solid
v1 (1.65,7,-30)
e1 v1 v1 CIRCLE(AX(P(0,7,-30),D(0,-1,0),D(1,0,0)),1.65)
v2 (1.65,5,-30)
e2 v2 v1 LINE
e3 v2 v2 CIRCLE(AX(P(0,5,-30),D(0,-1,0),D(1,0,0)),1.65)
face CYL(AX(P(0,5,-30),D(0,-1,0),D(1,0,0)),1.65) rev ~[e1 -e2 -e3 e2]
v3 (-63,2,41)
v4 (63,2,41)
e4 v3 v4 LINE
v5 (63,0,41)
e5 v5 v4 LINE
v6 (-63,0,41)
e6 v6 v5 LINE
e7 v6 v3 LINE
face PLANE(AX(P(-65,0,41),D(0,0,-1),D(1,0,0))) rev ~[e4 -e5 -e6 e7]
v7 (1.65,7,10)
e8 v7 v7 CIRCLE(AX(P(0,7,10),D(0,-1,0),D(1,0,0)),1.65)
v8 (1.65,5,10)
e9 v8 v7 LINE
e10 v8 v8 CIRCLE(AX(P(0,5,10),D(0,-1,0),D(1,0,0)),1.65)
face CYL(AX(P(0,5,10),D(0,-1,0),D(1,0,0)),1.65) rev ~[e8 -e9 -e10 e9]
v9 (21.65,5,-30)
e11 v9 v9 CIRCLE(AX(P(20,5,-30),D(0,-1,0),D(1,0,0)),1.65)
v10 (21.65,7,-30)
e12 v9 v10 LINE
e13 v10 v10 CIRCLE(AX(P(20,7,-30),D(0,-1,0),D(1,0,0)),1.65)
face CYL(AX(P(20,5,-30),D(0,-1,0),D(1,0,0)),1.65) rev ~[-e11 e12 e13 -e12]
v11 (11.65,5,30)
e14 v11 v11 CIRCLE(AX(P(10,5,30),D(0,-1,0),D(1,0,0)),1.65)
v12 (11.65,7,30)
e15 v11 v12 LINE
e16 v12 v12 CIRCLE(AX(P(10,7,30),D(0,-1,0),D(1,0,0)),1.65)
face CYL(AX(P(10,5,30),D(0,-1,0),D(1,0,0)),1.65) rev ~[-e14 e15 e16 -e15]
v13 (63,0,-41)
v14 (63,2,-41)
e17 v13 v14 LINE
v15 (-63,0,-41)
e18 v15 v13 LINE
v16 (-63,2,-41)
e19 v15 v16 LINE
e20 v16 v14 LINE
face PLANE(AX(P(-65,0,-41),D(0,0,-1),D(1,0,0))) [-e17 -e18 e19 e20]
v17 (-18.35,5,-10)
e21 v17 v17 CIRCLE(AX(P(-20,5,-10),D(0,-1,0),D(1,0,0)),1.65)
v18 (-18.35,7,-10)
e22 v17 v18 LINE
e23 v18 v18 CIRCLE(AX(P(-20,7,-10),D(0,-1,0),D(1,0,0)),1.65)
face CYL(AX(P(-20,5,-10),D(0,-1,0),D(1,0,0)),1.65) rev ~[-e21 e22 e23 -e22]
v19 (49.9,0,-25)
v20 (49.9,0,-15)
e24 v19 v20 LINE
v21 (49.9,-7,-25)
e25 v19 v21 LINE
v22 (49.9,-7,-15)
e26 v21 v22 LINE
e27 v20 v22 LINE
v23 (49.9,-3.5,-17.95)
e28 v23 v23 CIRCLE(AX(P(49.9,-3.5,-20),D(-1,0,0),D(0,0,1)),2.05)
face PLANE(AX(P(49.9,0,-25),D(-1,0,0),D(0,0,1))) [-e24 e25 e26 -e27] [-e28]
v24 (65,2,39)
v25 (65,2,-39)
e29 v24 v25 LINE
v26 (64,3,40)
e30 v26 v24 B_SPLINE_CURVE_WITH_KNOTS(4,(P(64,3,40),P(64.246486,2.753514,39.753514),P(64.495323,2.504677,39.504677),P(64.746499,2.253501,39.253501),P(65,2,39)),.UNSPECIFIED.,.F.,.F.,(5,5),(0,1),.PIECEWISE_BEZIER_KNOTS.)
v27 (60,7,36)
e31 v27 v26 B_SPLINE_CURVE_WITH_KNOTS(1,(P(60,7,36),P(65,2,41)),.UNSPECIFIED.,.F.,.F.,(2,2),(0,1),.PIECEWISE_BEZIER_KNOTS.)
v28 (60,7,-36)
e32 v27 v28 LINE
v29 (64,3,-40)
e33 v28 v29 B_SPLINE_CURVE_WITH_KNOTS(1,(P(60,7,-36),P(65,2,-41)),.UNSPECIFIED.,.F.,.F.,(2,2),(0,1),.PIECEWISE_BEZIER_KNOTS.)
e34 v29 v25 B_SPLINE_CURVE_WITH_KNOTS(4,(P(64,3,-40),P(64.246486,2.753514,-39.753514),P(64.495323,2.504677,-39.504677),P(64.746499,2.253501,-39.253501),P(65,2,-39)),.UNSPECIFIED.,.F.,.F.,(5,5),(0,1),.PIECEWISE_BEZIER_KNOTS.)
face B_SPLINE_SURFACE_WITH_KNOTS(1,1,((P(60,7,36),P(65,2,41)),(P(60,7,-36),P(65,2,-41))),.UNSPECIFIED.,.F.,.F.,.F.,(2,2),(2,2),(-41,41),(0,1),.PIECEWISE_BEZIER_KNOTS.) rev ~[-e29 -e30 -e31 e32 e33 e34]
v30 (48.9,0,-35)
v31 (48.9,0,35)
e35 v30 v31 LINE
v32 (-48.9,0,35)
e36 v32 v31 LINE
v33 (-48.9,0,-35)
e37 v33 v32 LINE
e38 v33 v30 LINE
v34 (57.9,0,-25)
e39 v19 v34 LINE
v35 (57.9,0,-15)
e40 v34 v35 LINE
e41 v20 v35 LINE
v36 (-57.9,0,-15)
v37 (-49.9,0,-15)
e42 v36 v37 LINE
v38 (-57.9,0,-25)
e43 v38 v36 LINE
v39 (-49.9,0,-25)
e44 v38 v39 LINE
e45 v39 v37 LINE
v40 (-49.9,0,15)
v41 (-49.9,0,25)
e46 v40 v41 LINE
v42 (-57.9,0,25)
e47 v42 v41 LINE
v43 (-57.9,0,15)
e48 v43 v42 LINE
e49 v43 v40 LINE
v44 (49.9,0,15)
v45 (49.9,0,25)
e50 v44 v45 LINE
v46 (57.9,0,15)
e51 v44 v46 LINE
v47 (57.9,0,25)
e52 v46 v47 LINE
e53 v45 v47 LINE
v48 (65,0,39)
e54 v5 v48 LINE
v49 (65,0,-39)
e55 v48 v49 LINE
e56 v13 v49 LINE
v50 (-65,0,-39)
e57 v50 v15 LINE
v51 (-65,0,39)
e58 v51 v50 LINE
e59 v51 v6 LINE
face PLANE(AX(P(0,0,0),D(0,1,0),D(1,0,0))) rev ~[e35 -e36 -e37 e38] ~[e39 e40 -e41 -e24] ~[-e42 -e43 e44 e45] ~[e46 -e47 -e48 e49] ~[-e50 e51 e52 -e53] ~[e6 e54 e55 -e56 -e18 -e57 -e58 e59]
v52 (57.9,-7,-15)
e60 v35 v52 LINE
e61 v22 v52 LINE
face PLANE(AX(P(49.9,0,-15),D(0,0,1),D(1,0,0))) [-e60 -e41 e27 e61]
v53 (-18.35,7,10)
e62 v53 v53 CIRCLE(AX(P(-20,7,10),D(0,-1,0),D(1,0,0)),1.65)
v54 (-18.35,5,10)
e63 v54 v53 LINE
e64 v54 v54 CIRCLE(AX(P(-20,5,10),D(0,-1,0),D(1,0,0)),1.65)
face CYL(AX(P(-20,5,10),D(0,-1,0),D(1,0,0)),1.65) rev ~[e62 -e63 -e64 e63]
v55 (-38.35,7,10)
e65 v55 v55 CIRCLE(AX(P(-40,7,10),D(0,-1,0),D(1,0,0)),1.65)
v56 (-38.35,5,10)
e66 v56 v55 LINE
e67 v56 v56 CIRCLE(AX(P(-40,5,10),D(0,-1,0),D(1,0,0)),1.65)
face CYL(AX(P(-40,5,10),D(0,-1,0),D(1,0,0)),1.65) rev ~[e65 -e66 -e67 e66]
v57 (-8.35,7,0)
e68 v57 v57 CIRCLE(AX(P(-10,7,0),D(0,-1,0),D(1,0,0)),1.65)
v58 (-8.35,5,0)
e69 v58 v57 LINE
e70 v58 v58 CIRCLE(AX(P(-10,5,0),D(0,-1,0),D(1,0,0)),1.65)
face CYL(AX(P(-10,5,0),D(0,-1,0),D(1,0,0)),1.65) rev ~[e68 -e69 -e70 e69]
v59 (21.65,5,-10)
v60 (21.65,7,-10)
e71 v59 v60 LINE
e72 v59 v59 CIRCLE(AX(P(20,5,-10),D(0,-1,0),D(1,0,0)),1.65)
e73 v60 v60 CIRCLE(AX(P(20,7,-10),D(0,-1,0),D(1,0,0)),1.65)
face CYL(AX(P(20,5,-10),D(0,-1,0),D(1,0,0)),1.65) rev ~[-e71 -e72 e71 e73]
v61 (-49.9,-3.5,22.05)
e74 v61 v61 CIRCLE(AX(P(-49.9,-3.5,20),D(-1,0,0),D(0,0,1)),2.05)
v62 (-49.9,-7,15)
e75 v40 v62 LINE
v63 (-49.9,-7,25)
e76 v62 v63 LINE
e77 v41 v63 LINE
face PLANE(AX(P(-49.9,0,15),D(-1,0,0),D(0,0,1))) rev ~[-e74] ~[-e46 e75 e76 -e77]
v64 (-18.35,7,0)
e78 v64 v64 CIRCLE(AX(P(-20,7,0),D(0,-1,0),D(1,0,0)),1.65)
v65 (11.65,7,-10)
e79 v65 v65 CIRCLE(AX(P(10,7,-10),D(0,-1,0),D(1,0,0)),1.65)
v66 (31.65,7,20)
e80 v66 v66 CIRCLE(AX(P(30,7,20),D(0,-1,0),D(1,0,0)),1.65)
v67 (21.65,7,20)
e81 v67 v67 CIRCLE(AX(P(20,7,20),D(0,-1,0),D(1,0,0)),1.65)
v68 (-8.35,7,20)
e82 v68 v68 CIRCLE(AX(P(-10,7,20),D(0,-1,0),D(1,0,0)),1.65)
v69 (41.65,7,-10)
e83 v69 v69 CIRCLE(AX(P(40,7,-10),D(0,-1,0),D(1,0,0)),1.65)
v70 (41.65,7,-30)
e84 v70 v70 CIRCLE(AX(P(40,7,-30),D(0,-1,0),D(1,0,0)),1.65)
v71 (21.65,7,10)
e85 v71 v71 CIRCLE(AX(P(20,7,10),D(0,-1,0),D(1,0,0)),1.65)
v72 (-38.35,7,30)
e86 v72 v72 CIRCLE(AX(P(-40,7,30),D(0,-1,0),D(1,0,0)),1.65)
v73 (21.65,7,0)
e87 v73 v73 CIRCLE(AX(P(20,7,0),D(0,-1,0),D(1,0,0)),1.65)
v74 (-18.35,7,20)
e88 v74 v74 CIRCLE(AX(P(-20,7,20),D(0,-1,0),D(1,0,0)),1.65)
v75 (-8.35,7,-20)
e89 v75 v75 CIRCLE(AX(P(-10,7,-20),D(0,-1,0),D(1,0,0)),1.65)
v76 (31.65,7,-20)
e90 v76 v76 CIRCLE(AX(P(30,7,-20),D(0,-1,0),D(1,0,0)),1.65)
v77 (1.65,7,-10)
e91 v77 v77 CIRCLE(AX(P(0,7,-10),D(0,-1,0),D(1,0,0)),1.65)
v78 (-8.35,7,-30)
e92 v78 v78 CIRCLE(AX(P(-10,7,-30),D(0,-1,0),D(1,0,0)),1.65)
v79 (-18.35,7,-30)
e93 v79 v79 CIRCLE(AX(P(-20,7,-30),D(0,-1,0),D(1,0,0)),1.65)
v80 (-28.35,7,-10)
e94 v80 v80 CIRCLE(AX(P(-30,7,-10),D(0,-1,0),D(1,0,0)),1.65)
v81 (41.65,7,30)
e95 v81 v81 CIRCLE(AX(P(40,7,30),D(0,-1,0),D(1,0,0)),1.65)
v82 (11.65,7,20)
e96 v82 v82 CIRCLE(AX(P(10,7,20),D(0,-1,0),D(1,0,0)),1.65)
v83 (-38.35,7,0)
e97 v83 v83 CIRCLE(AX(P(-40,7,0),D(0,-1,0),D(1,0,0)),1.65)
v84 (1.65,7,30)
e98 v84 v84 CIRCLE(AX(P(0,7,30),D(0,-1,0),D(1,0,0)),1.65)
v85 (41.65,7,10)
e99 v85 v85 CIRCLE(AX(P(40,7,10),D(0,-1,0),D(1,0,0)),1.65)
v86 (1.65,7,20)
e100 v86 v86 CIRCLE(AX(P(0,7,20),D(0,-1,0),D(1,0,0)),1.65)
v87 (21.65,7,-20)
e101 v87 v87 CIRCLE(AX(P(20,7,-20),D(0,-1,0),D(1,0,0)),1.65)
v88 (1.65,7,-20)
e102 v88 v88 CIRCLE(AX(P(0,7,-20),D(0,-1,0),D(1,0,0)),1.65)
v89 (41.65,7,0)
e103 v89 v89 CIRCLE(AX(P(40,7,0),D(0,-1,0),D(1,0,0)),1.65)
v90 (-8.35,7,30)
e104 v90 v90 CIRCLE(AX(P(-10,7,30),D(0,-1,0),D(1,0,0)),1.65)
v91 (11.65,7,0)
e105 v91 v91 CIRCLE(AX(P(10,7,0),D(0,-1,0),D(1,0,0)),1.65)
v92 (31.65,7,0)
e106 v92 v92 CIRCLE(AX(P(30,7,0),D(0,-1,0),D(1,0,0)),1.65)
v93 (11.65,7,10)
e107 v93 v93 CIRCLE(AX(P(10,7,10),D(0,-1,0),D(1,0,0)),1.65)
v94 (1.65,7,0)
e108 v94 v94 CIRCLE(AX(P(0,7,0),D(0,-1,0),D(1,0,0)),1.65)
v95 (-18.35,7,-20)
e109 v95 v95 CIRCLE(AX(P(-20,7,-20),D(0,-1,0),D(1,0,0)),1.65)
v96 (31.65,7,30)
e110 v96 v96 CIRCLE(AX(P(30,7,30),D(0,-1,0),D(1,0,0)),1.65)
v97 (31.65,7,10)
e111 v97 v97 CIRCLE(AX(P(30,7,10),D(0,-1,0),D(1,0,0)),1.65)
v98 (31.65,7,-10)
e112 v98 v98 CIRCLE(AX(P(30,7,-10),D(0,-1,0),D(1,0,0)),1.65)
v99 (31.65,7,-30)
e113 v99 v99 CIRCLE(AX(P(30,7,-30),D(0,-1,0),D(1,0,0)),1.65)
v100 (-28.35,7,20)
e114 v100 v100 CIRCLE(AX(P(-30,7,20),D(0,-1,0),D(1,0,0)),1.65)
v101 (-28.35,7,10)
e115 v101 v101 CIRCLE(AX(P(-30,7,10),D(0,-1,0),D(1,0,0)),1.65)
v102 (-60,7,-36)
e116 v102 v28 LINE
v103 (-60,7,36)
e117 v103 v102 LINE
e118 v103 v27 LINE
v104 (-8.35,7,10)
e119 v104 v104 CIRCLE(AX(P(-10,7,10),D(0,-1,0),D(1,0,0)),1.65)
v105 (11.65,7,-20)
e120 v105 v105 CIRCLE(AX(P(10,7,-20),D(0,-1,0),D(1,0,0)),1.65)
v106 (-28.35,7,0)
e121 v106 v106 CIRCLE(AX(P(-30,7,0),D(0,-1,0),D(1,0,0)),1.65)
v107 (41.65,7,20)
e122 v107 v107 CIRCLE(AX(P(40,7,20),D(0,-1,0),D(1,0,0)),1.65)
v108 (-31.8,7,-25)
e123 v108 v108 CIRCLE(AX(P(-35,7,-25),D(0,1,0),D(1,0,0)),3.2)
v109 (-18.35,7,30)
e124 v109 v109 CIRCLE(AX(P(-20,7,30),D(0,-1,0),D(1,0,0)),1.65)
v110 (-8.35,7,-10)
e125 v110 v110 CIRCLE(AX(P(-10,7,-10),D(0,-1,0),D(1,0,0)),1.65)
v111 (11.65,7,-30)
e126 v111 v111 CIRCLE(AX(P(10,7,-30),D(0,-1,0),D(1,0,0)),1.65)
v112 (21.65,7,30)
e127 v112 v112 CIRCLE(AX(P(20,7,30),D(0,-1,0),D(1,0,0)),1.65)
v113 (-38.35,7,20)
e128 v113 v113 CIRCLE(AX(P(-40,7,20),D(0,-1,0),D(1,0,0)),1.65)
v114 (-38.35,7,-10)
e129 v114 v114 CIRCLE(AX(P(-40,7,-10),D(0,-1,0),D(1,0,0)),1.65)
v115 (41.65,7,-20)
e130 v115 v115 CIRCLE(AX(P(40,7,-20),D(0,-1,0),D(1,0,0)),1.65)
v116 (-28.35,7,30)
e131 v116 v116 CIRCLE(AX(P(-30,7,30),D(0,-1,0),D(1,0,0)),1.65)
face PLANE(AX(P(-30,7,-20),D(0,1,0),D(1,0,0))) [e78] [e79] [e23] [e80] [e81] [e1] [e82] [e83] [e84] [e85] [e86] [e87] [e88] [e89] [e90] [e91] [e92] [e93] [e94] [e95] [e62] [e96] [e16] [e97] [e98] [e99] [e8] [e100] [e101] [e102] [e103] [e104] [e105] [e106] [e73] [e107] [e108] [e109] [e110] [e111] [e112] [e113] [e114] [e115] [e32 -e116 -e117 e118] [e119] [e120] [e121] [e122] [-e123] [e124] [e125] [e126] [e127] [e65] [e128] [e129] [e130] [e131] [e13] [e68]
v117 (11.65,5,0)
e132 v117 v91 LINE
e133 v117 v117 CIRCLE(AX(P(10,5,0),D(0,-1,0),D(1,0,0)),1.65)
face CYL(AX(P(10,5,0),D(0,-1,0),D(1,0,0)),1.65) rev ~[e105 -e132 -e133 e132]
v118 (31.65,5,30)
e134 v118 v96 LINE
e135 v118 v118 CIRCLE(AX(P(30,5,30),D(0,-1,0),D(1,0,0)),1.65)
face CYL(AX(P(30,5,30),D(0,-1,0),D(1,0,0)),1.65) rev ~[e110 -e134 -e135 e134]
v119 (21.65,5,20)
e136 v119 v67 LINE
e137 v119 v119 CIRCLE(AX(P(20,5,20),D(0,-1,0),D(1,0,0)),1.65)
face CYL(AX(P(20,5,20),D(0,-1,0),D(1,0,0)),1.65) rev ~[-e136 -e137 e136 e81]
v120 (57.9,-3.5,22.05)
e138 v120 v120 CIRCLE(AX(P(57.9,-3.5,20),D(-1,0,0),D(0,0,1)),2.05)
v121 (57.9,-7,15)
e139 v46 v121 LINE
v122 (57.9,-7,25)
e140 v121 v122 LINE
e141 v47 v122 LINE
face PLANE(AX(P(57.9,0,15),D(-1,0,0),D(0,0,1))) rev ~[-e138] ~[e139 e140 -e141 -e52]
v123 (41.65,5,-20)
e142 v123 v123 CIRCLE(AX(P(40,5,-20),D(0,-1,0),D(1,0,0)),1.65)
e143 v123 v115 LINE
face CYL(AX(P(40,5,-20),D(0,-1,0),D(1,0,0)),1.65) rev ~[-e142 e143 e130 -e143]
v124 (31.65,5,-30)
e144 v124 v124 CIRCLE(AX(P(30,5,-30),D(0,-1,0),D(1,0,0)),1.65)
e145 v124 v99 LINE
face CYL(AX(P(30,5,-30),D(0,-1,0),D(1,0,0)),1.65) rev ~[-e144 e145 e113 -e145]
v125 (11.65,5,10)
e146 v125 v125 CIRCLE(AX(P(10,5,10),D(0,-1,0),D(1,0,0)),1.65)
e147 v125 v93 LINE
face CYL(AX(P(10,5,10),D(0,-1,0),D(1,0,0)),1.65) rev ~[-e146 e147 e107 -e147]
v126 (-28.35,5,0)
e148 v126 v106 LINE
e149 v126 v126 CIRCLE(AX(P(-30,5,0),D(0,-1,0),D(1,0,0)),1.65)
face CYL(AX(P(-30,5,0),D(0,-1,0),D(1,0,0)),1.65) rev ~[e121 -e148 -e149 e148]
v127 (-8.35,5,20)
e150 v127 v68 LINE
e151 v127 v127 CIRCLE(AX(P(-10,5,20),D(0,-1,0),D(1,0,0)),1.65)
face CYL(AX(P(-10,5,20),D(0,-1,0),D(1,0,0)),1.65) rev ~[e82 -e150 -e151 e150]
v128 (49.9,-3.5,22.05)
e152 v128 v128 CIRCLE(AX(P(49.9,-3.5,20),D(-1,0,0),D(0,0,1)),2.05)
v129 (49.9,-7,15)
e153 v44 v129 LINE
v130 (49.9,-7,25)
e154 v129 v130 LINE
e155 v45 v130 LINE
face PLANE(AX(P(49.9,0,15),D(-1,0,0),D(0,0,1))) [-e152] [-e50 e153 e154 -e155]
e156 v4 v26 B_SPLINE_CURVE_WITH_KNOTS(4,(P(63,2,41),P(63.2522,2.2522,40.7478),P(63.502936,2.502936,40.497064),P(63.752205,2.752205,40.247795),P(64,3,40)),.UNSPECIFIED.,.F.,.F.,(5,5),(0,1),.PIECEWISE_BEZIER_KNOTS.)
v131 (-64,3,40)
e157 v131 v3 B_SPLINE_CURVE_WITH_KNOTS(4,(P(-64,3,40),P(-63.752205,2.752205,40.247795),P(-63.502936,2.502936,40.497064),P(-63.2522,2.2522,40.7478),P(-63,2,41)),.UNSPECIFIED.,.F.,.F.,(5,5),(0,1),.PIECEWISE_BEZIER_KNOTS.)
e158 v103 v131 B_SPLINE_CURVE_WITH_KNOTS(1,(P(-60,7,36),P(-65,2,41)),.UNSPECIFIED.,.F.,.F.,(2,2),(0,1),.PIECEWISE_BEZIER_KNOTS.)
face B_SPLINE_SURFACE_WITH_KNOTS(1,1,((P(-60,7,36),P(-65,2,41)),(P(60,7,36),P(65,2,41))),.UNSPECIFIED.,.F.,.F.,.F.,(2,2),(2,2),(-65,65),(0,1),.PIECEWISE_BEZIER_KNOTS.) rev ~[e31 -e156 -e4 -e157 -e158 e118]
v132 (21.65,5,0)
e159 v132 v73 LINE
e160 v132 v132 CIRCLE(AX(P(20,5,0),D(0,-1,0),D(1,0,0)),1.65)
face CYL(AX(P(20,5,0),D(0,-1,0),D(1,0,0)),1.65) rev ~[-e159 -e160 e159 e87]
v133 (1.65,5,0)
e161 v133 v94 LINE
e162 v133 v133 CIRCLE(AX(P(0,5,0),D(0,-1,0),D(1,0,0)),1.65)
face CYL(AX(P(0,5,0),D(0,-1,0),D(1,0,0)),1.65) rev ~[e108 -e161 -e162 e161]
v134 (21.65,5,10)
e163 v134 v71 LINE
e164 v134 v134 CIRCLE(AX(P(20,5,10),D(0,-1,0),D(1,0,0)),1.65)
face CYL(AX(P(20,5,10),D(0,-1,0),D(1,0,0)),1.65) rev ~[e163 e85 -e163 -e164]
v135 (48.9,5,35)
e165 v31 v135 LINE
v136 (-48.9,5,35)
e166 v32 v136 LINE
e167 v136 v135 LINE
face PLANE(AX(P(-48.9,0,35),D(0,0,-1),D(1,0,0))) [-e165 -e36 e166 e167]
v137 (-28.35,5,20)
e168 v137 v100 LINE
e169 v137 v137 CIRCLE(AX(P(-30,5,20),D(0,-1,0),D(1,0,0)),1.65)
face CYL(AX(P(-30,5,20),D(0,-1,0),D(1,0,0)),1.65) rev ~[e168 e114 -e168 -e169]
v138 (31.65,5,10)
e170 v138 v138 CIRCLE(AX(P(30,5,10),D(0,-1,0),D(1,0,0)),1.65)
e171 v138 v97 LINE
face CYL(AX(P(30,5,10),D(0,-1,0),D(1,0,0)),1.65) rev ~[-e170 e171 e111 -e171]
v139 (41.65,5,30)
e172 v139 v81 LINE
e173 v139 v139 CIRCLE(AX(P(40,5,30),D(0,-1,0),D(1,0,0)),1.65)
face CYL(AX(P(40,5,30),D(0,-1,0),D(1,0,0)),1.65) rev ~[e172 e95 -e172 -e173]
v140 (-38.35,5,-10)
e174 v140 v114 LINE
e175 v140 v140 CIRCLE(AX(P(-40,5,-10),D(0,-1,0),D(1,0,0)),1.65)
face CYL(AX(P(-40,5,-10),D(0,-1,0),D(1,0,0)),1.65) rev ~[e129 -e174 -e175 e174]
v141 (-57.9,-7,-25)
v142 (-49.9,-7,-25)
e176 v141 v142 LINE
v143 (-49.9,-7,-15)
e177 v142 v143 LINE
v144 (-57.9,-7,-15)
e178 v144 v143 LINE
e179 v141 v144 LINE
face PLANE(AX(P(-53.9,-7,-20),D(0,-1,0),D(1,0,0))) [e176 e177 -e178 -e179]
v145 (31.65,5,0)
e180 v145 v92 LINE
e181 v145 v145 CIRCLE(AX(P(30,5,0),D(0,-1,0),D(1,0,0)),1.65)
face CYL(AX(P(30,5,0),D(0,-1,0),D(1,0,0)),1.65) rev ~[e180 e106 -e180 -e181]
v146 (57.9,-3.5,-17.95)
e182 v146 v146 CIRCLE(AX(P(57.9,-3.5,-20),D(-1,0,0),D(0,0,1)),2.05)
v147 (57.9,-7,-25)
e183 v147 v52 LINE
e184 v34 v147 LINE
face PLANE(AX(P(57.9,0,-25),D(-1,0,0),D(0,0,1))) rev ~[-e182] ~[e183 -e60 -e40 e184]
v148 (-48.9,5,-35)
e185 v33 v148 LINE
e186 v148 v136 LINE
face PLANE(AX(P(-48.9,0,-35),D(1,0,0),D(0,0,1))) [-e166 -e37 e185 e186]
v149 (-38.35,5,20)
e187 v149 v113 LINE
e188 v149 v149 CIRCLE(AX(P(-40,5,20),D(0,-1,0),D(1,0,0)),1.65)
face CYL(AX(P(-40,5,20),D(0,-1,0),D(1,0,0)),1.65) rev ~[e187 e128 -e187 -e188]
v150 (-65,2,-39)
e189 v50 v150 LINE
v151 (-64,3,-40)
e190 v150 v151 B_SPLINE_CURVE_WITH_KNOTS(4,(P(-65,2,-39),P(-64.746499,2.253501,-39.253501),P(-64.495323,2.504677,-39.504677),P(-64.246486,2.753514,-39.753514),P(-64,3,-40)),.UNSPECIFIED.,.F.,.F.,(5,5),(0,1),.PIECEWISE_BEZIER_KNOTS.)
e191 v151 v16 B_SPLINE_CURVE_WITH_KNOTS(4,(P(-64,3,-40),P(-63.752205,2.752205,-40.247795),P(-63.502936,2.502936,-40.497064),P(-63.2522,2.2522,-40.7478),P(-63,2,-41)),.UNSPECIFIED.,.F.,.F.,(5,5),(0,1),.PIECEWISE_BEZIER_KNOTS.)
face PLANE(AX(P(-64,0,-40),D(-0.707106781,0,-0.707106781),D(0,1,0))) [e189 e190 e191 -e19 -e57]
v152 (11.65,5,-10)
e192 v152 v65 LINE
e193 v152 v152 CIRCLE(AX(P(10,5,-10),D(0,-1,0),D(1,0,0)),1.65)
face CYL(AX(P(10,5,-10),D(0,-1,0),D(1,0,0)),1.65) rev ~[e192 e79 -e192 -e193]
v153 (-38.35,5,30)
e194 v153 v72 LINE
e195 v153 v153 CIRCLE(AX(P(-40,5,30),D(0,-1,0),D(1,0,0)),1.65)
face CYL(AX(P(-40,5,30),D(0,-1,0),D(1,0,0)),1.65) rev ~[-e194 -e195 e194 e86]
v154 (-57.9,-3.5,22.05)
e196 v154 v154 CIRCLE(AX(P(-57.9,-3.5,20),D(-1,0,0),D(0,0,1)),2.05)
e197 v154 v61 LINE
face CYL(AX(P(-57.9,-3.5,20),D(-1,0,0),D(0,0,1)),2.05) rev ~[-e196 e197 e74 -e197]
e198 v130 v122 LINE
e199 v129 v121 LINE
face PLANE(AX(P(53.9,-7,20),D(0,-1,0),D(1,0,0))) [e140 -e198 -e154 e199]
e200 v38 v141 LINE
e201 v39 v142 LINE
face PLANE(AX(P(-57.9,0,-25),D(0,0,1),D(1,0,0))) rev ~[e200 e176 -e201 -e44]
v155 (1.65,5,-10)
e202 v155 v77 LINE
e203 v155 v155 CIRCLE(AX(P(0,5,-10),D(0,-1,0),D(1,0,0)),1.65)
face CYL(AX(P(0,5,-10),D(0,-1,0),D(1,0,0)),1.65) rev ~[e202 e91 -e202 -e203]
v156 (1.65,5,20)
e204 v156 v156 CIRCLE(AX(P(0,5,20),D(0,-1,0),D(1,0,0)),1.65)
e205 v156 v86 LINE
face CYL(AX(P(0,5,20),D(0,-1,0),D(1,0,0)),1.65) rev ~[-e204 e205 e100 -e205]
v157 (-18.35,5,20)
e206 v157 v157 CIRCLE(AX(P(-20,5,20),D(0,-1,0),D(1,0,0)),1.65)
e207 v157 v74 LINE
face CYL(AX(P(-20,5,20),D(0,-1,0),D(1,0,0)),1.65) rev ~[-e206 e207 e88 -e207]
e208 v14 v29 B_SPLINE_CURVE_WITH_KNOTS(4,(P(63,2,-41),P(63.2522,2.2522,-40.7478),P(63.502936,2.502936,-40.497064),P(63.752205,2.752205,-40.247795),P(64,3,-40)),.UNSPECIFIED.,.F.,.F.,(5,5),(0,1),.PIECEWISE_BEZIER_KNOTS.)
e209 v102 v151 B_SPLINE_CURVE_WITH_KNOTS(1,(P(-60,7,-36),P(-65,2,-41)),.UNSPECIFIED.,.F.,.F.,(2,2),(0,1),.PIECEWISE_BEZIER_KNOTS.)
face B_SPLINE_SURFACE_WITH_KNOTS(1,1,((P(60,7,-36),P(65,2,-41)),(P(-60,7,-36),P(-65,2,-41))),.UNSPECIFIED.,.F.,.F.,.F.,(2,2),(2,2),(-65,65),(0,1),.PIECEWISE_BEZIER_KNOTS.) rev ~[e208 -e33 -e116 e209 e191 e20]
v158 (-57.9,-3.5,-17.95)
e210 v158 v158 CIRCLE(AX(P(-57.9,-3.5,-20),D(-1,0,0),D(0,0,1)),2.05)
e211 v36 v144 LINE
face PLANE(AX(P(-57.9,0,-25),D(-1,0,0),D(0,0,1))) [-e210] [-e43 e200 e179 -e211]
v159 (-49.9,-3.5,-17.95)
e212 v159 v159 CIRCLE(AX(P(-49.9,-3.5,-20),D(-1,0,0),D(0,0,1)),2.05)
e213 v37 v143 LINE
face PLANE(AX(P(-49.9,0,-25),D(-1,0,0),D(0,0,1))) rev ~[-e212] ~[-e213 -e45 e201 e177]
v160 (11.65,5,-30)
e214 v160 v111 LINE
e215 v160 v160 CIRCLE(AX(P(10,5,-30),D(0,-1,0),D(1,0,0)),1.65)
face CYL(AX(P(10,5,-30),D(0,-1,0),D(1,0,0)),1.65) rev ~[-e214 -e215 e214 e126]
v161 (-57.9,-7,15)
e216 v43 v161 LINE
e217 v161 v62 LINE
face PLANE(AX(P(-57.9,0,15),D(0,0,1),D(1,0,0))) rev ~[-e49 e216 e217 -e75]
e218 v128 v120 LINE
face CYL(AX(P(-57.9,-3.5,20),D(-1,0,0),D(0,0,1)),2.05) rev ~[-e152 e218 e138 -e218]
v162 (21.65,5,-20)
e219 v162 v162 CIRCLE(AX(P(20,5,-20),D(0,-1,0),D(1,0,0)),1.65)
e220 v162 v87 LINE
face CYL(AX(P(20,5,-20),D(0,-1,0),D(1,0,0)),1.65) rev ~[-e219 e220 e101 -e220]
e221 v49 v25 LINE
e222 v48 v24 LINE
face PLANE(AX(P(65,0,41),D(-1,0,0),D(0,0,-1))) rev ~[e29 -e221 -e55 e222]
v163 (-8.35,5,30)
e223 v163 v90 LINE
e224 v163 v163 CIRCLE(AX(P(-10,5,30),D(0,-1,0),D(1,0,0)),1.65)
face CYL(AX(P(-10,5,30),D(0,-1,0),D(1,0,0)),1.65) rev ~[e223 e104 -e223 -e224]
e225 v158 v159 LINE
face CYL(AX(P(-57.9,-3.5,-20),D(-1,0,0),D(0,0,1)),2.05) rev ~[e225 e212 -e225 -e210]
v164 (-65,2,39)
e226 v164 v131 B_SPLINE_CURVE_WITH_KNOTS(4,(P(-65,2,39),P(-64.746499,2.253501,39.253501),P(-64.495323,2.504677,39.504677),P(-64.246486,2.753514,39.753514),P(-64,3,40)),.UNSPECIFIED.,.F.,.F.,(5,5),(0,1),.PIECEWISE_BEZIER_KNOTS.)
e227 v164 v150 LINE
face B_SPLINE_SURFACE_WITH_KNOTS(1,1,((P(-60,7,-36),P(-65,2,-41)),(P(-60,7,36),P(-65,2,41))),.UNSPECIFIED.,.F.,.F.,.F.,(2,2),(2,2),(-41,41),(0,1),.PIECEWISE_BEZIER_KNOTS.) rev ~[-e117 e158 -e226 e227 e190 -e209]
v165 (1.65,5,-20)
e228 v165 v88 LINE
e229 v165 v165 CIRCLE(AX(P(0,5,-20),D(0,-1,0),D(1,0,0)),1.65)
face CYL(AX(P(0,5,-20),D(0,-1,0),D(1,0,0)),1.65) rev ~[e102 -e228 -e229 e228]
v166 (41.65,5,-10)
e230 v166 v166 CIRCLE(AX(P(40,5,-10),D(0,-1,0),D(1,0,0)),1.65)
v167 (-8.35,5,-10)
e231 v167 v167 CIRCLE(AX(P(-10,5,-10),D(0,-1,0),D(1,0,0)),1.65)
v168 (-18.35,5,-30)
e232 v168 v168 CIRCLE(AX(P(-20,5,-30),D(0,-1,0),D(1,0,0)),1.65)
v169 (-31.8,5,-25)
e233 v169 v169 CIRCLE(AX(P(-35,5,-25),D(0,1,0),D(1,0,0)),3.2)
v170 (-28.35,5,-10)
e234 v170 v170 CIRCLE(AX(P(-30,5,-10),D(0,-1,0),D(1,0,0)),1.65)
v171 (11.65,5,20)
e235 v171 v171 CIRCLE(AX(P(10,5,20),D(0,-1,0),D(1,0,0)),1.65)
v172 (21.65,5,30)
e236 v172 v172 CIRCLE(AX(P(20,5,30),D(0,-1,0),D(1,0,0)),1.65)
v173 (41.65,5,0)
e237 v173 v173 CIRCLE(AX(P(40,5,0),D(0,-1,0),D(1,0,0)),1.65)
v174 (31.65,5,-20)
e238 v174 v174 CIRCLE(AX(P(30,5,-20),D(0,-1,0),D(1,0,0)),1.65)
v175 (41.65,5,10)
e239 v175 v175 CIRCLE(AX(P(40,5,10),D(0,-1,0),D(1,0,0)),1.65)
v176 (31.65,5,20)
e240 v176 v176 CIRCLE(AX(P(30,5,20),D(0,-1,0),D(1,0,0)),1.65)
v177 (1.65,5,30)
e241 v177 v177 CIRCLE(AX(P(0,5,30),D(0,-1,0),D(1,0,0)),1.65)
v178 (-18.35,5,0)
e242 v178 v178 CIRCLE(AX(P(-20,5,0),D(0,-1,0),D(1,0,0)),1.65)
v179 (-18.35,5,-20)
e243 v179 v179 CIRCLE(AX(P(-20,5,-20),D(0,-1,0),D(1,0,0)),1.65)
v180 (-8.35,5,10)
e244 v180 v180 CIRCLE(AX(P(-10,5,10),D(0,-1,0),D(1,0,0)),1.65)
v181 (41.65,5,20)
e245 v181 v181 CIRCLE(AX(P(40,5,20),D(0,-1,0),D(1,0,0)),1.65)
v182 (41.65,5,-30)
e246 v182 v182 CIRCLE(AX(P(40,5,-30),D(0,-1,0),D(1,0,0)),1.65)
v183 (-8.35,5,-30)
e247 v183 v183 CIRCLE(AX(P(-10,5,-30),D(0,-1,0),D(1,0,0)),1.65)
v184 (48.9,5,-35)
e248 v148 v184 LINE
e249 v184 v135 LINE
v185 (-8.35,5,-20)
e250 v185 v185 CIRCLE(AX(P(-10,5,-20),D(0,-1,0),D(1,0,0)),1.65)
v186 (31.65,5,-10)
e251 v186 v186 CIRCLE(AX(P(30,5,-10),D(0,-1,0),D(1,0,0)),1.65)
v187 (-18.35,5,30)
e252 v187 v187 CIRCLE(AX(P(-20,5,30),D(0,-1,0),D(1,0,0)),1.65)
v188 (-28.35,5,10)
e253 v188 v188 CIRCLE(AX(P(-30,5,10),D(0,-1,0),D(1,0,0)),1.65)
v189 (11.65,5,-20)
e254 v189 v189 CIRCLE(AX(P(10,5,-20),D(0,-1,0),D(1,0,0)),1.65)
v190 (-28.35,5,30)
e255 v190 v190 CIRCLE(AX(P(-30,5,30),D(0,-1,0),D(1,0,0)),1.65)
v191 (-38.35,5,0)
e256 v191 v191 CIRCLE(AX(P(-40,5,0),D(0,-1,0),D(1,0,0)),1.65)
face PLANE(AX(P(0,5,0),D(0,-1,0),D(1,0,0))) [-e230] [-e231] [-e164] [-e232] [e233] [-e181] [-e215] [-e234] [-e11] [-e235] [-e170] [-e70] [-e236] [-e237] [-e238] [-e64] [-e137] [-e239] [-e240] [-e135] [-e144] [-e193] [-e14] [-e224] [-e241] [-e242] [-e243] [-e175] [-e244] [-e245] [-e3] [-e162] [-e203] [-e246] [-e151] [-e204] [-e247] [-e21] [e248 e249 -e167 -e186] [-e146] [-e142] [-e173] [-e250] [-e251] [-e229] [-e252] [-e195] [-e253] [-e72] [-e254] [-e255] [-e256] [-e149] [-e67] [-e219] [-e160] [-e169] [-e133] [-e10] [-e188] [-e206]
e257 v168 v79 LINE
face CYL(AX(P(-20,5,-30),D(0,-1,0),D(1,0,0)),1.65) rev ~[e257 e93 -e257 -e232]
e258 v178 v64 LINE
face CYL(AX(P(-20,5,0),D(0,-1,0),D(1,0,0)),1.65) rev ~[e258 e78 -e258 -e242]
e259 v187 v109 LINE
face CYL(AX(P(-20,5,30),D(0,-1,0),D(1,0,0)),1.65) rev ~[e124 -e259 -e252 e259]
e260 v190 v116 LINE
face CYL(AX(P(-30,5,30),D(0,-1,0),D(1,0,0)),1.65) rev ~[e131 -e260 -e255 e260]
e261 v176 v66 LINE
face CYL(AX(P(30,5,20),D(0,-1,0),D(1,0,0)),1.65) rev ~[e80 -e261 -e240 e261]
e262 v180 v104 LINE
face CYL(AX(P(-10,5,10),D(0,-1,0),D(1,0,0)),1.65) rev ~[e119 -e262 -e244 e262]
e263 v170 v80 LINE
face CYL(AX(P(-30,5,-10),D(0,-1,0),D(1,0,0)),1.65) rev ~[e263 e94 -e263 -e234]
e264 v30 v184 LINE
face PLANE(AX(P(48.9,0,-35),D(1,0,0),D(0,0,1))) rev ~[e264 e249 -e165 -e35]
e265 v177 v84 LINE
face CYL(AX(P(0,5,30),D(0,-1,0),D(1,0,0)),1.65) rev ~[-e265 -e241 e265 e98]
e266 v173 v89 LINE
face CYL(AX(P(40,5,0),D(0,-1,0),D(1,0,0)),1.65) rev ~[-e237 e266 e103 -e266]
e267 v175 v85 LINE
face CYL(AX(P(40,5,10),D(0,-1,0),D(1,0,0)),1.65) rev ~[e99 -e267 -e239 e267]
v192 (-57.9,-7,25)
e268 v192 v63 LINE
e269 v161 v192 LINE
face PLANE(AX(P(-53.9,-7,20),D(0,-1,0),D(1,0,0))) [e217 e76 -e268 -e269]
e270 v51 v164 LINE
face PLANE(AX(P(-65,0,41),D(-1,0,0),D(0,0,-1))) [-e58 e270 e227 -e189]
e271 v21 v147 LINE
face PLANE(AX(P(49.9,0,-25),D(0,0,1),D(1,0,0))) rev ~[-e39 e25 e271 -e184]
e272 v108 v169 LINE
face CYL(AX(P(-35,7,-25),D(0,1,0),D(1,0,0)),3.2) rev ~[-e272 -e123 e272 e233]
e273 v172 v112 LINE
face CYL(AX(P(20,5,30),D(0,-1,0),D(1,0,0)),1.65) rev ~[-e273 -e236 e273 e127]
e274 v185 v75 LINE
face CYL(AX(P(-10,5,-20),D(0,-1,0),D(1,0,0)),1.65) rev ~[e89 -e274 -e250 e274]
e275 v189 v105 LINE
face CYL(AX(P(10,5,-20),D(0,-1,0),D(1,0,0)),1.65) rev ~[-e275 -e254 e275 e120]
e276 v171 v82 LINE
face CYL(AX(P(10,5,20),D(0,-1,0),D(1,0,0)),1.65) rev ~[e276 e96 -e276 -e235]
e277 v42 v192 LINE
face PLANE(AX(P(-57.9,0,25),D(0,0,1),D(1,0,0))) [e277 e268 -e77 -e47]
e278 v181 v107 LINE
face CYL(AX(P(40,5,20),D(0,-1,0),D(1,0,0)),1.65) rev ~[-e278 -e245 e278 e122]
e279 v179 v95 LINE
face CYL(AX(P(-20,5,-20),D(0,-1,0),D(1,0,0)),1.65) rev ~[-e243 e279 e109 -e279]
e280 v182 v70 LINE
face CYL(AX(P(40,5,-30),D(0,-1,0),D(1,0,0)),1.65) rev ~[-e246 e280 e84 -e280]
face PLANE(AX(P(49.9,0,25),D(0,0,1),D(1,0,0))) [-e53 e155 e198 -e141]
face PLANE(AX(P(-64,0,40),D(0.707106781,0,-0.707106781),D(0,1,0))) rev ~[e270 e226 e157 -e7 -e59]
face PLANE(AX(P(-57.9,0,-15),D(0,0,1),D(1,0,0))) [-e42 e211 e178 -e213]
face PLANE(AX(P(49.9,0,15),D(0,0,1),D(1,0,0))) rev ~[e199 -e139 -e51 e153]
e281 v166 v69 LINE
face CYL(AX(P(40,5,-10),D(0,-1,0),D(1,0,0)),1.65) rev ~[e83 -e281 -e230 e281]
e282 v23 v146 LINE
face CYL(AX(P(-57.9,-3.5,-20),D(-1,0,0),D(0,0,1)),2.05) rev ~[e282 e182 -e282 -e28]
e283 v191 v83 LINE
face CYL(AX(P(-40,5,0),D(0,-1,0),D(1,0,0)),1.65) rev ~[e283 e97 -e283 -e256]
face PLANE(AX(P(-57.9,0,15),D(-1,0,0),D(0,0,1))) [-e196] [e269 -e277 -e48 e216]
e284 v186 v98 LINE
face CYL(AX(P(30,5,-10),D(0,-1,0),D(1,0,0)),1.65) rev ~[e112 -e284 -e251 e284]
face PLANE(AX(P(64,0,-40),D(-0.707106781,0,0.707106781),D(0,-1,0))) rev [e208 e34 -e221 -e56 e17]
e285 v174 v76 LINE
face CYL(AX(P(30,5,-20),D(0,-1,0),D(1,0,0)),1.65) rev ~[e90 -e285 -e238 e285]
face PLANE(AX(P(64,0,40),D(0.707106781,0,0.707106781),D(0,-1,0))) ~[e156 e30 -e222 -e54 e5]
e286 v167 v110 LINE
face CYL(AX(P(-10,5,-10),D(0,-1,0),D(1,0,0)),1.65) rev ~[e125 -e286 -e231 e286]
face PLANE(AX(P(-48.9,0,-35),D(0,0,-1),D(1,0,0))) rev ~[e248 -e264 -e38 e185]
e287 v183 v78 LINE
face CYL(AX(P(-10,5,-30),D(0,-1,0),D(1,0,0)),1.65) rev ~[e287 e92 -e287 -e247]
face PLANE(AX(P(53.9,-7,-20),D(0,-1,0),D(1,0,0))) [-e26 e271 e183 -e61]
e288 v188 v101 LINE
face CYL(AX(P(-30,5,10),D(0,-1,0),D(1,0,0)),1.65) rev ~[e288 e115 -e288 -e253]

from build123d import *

# Parameters (mm, degrees)
SKETCH1_W           = 130
SKETCH1_H           = 82
BOSS_EXTRUDE1_DEPTH = 2
SKETCH3_W           = 120
SKETCH3_H           = 72
SKETCH2_W           = 130
SKETCH2_H           = 82
CHAMFER2_SIZE       = 2
SKETCH4_W           = 8
SKETCH4_H           = 10
BOSS_EXTRUDE2_DEPTH = 7
SKETCH5_R           = 2.05
CUT_EXTRUDE1_DEPTH  = 123.9000001
SKETCH6_W           = 97.8
SKETCH6_H           = 70
CUT_EXTRUDE2_DEPTH  = 5
SKETCH7_R           = 1.65
CUT_EXTRUDE3_DEPTH  = 3.0000001
SKETCH8_R           = 3.2
CUT_EXTRUDE4_DEPTH  = 15
SKETCH9_R           = 1.65
BOSS_EXTRUDE3_DEPTH = 2


with BuildPart() as part:
    # Sketch1 → Boss-Extrude1 (new body)
    with BuildSketch(Plane(origin=(0, 0, 0), x_dir=(1, 0, 0), z_dir=(0, 1, 0))):
        Rectangle(SKETCH1_W, SKETCH1_H)
    extrude(amount=BOSS_EXTRUDE1_DEPTH)

    # Sketch3 → Loft1 section 0
    with BuildSketch(Plane(origin=(0, 7, 0), x_dir=(1, 0, 0), z_dir=(0, 1, 0))):
        Rectangle(SKETCH3_W, SKETCH3_H)
    # Sketch2 → Loft1 section 1
    with BuildSketch(Plane(origin=(0, 2, 0), x_dir=(1, 0, 0), z_dir=(0, 1, 0))):
        Rectangle(SKETCH2_W, SKETCH2_H)
    loft()

    # Chamfer2
    chamfer2_edges = [part.edges().sort_by_distance(p)[0] for p in [
        (65, 1, 41),
        (-65, 1, 41),
        (-65, 1, -41),
        (65, 1, -41),
    ]]
    chamfer(chamfer2_edges, length=CHAMFER2_SIZE)

    # Sketch4 → Boss-Extrude2 (add)
    with BuildSketch(Plane.XZ):
        with Locations((-53.9, 20)):
            Rectangle(SKETCH4_W, SKETCH4_H)
        with Locations((-53.9, -20)):
            Rectangle(SKETCH4_W, SKETCH4_H)
        with Locations((53.9, -20)):
            Rectangle(SKETCH4_W, SKETCH4_H)
        with Locations((53.9, 20)):
            Rectangle(SKETCH4_W, SKETCH4_H)
    extrude(amount=BOSS_EXTRUDE2_DEPTH)

    # Sketch5 → Cut-Extrude1 (cut, through all)
    with BuildSketch(Plane.ZY.offset(57.9)):
        with Locations((-20, -3.5)):
            Circle(SKETCH5_R)
        with Locations((20, -3.5)):
            Circle(SKETCH5_R)
    extrude(amount=-CUT_EXTRUDE1_DEPTH, mode=Mode.SUBTRACT)

    # Sketch6 → Cut-Extrude2 (cut)
    with BuildSketch(Plane.XZ):
        Rectangle(SKETCH6_W, SKETCH6_H)
    extrude(amount=-CUT_EXTRUDE2_DEPTH, mode=Mode.SUBTRACT)

    # Sketch7 → Cut-Extrude3 (cut, through all)
    with BuildSketch(Plane.XZ.offset(-5)):
        Circle(SKETCH7_R)
        with Locations((10, 0)):
            Circle(SKETCH7_R)
        with Locations((20, 0)):
            Circle(SKETCH7_R)
        with Locations((30, 0)):
            Circle(SKETCH7_R)
        with Locations((40, 0)):
            Circle(SKETCH7_R)
        with Locations((10, 10)):
            Circle(SKETCH7_R)
        with Locations((20, 10)):
            Circle(SKETCH7_R)
        with Locations((30, 10)):
            Circle(SKETCH7_R)
        with Locations((40, 10)):
            Circle(SKETCH7_R)
        with Locations((10, 20)):
            Circle(SKETCH7_R)
        with Locations((20, 20)):
            Circle(SKETCH7_R)
        with Locations((30, 20)):
            Circle(SKETCH7_R)
        with Locations((40, 20)):
            Circle(SKETCH7_R)
        with Locations((10, 30)):
            Circle(SKETCH7_R)
        with Locations((20, 30)):
            Circle(SKETCH7_R)
        with Locations((30, 30)):
            Circle(SKETCH7_R)
        with Locations((40, 30)):
            Circle(SKETCH7_R)
        with Locations((0, 10)):
            Circle(SKETCH7_R)
        with Locations((0, 20)):
            Circle(SKETCH7_R)
        with Locations((0, 30)):
            Circle(SKETCH7_R)
        with Locations((-40, 30)):
            Circle(SKETCH7_R)
        with Locations((-30, 30)):
            Circle(SKETCH7_R)
        with Locations((-20, 30)):
            Circle(SKETCH7_R)
        with Locations((-10, 30)):
            Circle(SKETCH7_R)
        with Locations((-40, 20)):
            Circle(SKETCH7_R)
        with Locations((-30, 20)):
            Circle(SKETCH7_R)
        with Locations((-20, 20)):
            Circle(SKETCH7_R)
        with Locations((-10, 20)):
            Circle(SKETCH7_R)
        with Locations((-40, 10)):
            Circle(SKETCH7_R)
        with Locations((-30, 10)):
            Circle(SKETCH7_R)
        with Locations((-20, 10)):
            Circle(SKETCH7_R)
        with Locations((-10, 10)):
            Circle(SKETCH7_R)
        with Locations((-40, 0)):
            Circle(SKETCH7_R)
        with Locations((-30, 0)):
            Circle(SKETCH7_R)
        with Locations((-20, 0)):
            Circle(SKETCH7_R)
        with Locations((-10, 0)):
            Circle(SKETCH7_R)
        with Locations((-10, -10)):
            Circle(SKETCH7_R)
        with Locations((-20, -10)):
            Circle(SKETCH7_R)
        with Locations((-30, -10)):
            Circle(SKETCH7_R)
        with Locations((-40, -10)):
            Circle(SKETCH7_R)
        with Locations((-10, -20)):
            Circle(SKETCH7_R)
        with Locations((-20, -20)):
            Circle(SKETCH7_R)
        with Locations((-30, -20)):
            Circle(SKETCH7_R)
        with Locations((-40, -20)):
            Circle(SKETCH7_R)
        with Locations((-10, -30)):
            Circle(SKETCH7_R)
        with Locations((-20, -30)):
            Circle(SKETCH7_R)
        with Locations((-30, -30)):
            Circle(SKETCH7_R)
        with Locations((-40, -30)):
            Circle(SKETCH7_R)
        with Locations((0, -30)):
            Circle(SKETCH7_R)
        with Locations((0, -20)):
            Circle(SKETCH7_R)
        with Locations((0, -10)):
            Circle(SKETCH7_R)
        with Locations((40, -30)):
            Circle(SKETCH7_R)
        with Locations((30, -30)):
            Circle(SKETCH7_R)
        with Locations((20, -30)):
            Circle(SKETCH7_R)
        with Locations((10, -30)):
            Circle(SKETCH7_R)
        with Locations((40, -20)):
            Circle(SKETCH7_R)
        with Locations((30, -20)):
            Circle(SKETCH7_R)
        with Locations((20, -20)):
            Circle(SKETCH7_R)
        with Locations((10, -20)):
            Circle(SKETCH7_R)
        with Locations((40, -10)):
            Circle(SKETCH7_R)
        with Locations((30, -10)):
            Circle(SKETCH7_R)
        with Locations((20, -10)):
            Circle(SKETCH7_R)
        with Locations((10, -10)):
            Circle(SKETCH7_R)
    extrude(amount=-CUT_EXTRUDE3_DEPTH, mode=Mode.SUBTRACT)

    # Sketch8 → Cut-Extrude4 (cut, through all)
    with BuildSketch(Plane(origin=(0, 7, 0), x_dir=(1, 0, 0), z_dir=(0, 1, 0))):
        with Locations((-35, 25)):
            Circle(SKETCH8_R)
    extrude(amount=-CUT_EXTRUDE4_DEPTH, mode=Mode.SUBTRACT)

    # Sketch9 → Boss-Extrude3 (add)
    with BuildSketch(Plane(origin=(0, 7, 0), x_dir=(1, 0, 0), z_dir=(0, 1, 0))):
        with Locations((-30, 20)):
            Circle(SKETCH9_R)
        with Locations((-40, 20)):
            Circle(SKETCH9_R)
        with Locations((-40, 30)):
            Circle(SKETCH9_R)
        with Locations((-30, 30)):
            Circle(SKETCH9_R)
    extrude(amount=-BOSS_EXTRUDE3_DEPTH)


solid = part.part
